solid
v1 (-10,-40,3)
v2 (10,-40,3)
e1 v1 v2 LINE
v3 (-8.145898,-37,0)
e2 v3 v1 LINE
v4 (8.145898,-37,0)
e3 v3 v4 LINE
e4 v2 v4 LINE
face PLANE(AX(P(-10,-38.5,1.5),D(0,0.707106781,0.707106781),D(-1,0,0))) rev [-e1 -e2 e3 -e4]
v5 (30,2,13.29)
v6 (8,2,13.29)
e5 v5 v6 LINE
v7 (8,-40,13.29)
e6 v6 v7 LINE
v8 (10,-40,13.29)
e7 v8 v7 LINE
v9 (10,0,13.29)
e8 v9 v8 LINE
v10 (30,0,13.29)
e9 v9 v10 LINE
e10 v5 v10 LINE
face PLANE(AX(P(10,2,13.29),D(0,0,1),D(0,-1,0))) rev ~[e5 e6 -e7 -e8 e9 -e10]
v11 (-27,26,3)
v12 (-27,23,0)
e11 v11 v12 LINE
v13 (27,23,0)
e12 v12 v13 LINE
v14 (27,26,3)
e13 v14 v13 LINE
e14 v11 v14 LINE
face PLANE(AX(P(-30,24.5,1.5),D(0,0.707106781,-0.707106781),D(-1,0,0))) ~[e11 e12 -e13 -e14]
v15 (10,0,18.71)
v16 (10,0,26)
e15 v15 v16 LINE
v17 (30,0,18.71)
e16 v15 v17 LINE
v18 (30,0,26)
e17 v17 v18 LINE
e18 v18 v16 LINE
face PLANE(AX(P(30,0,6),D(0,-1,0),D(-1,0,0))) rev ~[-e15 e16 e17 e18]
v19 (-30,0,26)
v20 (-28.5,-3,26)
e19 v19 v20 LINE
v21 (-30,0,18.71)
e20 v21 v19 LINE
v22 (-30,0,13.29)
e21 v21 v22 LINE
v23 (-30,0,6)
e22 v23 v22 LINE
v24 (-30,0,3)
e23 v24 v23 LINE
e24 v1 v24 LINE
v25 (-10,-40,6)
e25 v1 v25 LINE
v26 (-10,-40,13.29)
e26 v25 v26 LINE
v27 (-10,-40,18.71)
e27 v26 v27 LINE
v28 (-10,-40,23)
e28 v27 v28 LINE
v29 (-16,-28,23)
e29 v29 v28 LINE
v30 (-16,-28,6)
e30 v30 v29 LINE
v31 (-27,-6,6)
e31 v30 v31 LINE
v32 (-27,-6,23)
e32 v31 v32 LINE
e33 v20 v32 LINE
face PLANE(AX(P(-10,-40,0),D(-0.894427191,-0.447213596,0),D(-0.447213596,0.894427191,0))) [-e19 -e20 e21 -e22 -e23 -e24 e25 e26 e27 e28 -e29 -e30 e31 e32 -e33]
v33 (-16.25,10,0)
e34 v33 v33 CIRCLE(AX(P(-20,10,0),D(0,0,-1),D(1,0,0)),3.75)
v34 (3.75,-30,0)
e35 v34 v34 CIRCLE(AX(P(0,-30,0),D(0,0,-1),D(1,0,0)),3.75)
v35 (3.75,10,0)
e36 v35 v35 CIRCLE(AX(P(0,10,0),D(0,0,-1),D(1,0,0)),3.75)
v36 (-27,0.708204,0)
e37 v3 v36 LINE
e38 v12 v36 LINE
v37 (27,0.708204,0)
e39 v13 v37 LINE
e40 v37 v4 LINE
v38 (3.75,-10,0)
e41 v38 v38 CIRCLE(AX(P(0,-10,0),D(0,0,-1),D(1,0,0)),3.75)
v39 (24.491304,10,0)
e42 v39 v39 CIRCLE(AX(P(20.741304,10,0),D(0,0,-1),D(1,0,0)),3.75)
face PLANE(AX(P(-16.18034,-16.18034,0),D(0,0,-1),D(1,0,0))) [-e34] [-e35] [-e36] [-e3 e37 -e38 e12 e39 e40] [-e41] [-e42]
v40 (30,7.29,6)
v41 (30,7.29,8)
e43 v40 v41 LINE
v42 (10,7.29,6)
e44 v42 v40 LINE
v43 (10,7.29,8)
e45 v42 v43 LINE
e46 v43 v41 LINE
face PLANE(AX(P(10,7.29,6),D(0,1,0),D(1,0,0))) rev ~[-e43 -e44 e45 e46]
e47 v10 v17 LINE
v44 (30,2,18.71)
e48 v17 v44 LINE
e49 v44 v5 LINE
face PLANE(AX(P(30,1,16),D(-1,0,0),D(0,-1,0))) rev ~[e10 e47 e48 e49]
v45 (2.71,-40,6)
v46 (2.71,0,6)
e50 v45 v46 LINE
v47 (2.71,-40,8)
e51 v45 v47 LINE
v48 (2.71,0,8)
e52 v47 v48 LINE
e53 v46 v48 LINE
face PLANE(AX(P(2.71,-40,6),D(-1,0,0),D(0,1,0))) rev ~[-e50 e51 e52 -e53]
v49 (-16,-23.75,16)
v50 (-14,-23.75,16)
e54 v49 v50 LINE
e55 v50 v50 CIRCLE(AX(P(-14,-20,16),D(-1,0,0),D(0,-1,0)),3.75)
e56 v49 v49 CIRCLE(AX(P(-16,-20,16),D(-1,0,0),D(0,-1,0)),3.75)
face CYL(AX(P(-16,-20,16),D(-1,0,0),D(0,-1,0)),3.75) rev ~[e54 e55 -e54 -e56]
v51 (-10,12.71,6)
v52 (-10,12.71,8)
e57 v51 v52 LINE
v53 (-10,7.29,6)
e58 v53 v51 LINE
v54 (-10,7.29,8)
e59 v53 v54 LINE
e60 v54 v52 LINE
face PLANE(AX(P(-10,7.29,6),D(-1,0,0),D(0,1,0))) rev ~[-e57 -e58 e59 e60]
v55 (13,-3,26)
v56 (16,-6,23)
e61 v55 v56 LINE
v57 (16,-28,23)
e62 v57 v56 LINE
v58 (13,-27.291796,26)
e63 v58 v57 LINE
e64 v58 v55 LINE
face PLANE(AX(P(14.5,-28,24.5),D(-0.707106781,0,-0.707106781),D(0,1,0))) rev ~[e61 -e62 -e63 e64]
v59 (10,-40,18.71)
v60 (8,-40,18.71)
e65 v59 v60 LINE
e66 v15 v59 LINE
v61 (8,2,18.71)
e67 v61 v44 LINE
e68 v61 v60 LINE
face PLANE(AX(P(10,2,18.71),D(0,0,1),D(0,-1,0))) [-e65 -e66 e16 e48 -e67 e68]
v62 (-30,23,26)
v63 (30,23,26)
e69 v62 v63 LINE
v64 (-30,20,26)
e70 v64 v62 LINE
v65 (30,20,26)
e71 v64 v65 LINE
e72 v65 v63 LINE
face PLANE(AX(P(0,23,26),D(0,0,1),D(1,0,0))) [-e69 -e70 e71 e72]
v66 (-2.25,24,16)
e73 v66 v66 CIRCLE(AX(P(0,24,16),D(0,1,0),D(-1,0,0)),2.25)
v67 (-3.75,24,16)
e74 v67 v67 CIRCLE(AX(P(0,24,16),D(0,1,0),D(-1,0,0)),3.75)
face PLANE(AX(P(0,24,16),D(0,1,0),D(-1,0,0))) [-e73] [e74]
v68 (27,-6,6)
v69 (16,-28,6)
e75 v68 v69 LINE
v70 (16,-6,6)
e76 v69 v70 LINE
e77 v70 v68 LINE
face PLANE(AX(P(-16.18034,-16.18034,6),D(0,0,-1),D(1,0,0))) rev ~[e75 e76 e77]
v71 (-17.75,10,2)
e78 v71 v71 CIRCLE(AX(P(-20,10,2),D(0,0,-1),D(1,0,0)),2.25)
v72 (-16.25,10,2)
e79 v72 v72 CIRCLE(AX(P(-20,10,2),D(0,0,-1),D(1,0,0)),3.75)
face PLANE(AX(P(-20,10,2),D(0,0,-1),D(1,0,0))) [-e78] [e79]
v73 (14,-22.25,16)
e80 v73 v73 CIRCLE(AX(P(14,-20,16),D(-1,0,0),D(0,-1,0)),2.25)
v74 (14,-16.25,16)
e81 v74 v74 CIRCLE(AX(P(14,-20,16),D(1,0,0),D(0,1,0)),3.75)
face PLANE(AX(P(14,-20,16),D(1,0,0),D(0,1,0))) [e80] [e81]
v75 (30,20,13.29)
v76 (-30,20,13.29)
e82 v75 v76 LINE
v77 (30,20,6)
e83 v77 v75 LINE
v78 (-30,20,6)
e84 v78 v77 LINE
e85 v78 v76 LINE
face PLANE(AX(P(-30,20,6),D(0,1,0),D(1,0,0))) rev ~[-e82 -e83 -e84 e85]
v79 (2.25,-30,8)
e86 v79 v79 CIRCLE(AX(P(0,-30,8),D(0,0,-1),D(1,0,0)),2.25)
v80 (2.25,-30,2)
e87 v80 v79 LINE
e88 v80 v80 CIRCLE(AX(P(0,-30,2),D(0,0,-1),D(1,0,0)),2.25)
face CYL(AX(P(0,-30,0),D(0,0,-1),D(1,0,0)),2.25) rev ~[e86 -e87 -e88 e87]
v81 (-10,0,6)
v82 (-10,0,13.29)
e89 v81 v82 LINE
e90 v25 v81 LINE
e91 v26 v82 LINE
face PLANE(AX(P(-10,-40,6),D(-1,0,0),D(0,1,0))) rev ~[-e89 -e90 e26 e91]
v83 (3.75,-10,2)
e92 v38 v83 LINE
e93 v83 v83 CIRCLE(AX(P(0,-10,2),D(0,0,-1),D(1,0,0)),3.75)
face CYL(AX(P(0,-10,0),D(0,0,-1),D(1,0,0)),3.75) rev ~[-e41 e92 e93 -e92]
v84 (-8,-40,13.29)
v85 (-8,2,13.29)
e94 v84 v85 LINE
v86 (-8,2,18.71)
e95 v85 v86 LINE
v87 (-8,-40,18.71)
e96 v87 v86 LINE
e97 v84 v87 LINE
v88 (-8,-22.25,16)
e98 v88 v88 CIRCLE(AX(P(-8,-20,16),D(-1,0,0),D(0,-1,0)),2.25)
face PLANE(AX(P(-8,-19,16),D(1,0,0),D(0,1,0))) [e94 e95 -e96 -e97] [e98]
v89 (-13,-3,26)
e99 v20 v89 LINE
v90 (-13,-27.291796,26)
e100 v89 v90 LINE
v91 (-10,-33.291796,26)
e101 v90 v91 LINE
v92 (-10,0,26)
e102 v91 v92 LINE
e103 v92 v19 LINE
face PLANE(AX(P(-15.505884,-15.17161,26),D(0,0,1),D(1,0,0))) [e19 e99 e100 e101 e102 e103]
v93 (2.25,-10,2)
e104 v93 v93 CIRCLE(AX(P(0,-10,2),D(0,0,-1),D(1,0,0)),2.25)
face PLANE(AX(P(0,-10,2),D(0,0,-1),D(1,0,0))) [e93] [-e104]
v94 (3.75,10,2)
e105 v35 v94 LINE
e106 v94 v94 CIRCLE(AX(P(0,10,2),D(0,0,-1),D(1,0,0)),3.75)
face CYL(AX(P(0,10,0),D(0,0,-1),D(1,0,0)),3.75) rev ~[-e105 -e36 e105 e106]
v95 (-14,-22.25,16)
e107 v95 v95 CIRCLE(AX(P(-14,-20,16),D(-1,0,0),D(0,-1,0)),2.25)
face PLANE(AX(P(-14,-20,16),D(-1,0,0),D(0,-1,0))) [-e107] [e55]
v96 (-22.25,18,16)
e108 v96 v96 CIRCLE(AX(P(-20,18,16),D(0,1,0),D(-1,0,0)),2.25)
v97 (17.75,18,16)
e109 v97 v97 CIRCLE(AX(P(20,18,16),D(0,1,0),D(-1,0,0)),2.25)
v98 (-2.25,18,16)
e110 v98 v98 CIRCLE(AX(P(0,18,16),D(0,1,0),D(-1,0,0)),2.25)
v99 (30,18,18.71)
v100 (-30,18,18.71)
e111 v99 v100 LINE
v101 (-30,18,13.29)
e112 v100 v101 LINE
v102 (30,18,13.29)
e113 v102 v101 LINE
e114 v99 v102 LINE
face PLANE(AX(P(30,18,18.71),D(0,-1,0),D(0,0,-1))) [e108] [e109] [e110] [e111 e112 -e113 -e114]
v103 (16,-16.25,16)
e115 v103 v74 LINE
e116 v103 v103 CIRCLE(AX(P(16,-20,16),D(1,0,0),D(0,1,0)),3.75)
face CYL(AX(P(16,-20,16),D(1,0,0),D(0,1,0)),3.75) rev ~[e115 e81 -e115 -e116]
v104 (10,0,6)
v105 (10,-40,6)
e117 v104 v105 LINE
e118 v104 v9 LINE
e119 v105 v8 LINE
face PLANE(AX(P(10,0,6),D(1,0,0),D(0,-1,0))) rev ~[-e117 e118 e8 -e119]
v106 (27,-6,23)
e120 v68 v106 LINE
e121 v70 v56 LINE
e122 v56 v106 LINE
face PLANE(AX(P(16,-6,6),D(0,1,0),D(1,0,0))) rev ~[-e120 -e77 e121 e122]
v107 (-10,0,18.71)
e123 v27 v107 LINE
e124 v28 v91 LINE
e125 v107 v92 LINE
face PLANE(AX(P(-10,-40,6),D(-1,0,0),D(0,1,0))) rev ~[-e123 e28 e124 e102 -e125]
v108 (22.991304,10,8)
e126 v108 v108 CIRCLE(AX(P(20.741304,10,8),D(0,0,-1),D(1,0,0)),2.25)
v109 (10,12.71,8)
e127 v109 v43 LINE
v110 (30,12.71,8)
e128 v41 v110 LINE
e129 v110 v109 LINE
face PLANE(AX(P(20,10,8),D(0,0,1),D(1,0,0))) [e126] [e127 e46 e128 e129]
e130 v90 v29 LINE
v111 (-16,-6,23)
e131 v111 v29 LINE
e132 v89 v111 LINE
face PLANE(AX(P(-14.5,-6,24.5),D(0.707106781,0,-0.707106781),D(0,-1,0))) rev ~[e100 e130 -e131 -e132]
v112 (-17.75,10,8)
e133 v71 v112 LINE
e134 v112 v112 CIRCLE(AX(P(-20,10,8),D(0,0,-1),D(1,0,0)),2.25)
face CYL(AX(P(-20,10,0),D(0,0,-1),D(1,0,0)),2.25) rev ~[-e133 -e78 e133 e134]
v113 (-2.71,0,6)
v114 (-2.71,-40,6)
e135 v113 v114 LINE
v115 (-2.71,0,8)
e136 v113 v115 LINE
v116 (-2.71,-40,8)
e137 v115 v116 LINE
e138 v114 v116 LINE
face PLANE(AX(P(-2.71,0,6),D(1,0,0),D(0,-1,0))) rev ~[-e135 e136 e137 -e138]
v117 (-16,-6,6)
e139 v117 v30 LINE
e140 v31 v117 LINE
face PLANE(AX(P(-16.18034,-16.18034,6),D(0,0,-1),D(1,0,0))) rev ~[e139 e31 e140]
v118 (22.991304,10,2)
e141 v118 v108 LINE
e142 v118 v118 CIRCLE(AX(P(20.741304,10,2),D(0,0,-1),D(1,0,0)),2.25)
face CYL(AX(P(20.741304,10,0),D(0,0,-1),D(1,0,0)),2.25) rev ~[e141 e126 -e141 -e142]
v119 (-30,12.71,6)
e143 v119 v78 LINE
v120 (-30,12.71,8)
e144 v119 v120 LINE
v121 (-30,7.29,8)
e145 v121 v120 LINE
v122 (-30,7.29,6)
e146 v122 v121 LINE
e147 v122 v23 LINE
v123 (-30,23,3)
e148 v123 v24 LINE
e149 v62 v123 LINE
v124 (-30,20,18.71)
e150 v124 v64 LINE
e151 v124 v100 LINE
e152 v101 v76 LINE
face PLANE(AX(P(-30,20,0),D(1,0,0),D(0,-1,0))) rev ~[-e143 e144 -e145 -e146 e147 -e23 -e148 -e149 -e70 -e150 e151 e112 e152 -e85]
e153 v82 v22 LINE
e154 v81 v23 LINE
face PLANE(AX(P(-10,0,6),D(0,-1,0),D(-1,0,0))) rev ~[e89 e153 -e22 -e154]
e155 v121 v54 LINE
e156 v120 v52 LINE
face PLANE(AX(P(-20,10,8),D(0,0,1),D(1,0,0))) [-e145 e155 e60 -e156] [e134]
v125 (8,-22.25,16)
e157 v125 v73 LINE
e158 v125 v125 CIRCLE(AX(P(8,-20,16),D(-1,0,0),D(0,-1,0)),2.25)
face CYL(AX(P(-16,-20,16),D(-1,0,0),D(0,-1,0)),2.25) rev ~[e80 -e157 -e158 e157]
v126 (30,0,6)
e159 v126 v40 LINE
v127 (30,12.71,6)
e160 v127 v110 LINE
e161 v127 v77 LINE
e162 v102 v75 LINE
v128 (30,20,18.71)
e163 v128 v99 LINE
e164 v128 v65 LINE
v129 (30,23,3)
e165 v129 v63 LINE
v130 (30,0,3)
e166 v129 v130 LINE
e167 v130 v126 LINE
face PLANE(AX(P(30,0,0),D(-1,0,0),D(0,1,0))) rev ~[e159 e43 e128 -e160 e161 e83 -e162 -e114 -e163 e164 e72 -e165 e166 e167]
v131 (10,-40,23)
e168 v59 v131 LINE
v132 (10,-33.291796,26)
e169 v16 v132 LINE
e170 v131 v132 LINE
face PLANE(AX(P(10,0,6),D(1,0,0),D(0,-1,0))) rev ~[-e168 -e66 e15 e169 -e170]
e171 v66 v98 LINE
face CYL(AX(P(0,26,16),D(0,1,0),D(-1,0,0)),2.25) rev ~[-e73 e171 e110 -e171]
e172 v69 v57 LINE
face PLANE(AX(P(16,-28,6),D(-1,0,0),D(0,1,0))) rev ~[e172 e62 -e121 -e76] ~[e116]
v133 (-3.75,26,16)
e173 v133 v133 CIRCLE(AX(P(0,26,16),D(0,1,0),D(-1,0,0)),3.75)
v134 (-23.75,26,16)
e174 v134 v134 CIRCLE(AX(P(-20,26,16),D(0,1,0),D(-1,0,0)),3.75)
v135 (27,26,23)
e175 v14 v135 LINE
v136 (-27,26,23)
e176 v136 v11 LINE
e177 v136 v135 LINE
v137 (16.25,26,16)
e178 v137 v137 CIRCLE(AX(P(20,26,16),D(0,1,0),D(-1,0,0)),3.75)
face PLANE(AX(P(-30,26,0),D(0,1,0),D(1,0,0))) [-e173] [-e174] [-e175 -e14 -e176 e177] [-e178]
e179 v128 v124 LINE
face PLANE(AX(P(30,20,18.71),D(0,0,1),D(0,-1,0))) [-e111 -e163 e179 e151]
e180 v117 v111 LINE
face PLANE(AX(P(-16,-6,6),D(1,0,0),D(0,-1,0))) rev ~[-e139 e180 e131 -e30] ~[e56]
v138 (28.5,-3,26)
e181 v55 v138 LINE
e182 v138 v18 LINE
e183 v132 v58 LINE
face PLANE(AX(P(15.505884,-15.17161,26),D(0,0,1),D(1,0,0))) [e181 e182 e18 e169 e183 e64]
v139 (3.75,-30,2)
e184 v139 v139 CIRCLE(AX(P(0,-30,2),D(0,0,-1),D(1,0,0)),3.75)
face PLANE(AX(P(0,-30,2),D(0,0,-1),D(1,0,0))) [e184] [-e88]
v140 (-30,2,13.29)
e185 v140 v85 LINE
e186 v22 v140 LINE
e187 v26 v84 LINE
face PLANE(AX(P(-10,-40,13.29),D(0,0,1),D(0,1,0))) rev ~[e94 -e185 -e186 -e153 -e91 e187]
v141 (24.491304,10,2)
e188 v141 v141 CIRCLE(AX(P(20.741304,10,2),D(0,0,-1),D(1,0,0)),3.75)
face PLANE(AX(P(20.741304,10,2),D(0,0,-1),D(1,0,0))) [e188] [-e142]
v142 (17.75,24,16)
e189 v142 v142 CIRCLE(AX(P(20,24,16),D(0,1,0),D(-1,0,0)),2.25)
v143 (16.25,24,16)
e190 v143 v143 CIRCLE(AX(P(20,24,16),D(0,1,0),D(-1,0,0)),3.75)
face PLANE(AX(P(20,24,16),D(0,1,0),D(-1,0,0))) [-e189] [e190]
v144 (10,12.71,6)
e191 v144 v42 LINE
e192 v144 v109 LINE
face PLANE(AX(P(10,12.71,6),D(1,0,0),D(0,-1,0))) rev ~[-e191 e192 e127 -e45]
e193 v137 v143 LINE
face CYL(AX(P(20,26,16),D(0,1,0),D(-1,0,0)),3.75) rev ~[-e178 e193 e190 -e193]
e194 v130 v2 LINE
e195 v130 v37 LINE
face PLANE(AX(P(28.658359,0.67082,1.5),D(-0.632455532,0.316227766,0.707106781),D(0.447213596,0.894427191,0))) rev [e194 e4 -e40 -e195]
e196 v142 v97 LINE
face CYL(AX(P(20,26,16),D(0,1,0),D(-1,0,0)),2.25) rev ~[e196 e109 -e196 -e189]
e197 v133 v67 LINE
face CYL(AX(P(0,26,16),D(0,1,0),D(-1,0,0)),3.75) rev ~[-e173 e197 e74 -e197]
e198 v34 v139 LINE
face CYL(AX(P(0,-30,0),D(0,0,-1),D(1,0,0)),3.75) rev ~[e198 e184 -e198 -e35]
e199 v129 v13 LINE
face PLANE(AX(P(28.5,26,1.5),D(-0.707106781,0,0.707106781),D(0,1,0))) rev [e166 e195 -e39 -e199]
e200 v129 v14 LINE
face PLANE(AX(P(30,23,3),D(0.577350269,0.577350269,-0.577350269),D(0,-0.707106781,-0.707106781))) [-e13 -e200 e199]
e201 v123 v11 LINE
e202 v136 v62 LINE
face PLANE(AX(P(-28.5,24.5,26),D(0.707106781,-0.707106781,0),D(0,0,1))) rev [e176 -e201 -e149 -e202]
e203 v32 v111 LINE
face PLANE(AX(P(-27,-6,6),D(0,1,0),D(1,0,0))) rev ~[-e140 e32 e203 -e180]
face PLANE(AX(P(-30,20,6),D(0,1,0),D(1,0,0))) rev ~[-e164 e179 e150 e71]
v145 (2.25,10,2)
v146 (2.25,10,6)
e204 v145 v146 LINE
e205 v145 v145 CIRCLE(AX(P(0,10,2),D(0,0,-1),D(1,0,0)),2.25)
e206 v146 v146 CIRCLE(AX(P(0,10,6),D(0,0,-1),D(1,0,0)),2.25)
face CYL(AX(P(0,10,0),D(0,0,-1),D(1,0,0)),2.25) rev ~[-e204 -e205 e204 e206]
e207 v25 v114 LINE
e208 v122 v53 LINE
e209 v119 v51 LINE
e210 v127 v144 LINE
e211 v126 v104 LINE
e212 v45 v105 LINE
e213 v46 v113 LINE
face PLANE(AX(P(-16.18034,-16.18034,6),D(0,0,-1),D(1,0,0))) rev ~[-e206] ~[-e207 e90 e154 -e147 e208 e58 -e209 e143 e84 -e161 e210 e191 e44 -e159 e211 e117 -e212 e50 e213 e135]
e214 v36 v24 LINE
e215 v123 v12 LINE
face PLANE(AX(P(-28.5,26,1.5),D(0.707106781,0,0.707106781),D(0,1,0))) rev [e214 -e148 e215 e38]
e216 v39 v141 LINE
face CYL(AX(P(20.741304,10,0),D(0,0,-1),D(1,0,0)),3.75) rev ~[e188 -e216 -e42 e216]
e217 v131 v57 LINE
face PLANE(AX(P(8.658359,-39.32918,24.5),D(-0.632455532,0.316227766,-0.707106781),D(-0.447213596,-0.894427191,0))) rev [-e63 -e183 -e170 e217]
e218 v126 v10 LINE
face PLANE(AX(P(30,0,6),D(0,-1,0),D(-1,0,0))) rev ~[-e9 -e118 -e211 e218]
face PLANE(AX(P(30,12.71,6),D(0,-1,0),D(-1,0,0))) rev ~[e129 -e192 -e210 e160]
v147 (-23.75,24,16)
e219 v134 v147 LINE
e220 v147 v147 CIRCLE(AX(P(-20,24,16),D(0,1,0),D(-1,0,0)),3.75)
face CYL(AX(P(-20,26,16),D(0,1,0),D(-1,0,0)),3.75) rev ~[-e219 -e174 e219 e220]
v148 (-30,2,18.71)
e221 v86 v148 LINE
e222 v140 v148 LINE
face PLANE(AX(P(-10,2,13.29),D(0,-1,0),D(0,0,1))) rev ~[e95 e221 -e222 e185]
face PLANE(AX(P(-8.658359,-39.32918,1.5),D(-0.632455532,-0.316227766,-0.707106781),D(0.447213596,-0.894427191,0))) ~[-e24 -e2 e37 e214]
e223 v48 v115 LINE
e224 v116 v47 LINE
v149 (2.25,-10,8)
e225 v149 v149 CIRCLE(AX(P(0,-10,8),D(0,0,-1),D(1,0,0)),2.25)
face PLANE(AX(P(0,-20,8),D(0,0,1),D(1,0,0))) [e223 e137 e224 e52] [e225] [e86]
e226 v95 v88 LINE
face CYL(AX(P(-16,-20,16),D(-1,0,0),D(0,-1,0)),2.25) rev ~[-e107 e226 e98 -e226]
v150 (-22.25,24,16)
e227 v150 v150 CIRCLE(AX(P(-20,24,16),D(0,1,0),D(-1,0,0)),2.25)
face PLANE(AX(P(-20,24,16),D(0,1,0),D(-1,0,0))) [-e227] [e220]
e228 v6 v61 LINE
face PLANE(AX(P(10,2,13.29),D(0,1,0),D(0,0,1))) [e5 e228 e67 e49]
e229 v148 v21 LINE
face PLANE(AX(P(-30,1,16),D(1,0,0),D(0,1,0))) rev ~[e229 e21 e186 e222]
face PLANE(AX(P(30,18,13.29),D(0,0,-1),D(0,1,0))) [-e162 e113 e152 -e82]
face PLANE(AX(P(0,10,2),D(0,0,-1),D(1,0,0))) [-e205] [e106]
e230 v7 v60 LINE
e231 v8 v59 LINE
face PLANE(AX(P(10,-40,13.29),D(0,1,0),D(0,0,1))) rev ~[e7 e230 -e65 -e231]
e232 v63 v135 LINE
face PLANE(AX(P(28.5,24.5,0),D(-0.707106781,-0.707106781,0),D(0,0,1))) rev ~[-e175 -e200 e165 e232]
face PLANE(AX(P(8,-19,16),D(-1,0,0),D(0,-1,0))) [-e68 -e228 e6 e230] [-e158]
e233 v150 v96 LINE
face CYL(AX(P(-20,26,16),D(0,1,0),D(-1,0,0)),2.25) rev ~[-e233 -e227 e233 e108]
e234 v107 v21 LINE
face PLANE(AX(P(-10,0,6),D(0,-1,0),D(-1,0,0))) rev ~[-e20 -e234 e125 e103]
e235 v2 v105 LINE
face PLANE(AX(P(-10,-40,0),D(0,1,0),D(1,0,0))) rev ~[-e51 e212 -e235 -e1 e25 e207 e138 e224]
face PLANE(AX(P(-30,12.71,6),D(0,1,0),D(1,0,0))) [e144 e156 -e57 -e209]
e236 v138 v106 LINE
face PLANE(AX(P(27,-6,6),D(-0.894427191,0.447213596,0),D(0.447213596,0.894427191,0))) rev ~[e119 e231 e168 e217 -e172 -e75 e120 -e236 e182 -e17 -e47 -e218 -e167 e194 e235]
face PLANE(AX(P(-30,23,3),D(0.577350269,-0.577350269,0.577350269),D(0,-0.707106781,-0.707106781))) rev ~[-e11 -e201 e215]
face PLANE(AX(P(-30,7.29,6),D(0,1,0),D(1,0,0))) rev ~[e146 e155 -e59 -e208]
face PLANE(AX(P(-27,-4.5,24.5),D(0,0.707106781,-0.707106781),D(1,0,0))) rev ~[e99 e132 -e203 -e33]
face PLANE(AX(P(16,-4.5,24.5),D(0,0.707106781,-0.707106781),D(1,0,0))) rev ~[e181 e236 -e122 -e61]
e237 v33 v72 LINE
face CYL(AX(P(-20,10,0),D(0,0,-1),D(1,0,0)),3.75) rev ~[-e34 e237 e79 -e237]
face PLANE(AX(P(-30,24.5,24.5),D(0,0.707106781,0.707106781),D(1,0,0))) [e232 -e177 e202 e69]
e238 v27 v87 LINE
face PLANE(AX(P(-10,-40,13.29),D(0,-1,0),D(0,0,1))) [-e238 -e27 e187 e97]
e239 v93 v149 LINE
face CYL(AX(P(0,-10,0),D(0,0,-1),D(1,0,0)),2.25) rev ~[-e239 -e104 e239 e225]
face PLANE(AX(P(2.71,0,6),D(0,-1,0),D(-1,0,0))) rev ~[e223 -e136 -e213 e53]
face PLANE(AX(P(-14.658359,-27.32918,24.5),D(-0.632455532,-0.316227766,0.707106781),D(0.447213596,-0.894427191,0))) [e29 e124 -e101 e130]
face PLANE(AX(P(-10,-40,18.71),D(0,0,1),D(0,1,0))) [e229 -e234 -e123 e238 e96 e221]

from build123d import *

# Parameters (mm, degrees)
F1_DEPTH  = 6
F2_W      = 20
F2_H      = 5.42
F3_DEPTH  = 2
F4_R      = 2.25
F5_DEPTH  = 8.001
F6_R      = 3.75
F7_DEPTH  = 2
F8_W      = 60
F8_H      = 6
F9_DEPTH  = 6
F10_W     = 60
F10_H     = 6
F11_DEPTH = 20
F13_DEPTH = 60
F15_DEPTH = 20
F16_W     = 42
F16_H     = 5.42
F17_DEPTH = 2
F19_DEPTH = 20
F20_W     = 42
F20_H     = 5.42
F21_DEPTH = 2
F22_R     = 2.25
F23_DEPTH = 46.001
F24_R     = 2.25
F25_DEPTH = 8
F26_R     = 3.75
F27_DEPTH = 2
F28_R     = 3.75
F29_DEPTH = 2
F30_R     = 3.75
F31_DEPTH = 2
F32_SIZE  = 3


with BuildPart() as f1:
    # F0 (on Top) → F1 (new body)
    with BuildSketch(Plane.XY):
        Polygon((-30, 0), (-10, 0), (-10, -40), (0, -40), (10, -40), (10, 0), (30, 0), (30, 20), (0, 20), (-30, 20), align=None)
    extrude(amount=F1_DEPTH)

    # F2 (on face) → F3 (join)
    with BuildSketch(Plane.XY.offset(6)):
        Polygon((2.71, 0), (0, 0), (-2.71, 0), (-2.71, -40), (2.71, -40), align=None)
        Polygon((10, 12.71), (10, 10), (10, 7.29), (30, 7.29), (30, 12.71), align=None)
        with Locations((-20, 10)):
            Rectangle(F2_W, F2_H)
    extrude(amount=F3_DEPTH)

    # F4 (on face) → F5 (cut, through all)
    with BuildSketch(Plane(origin=(0, 0, 0), x_dir=(1, 0, 0), z_dir=(0, 0, -1))):
        with Locations((-20, -10)):
            Circle(F4_R)
        with Locations((0, 10)):
            Circle(F4_R)
        with Locations((0, 30)):
            Circle(F4_R)
        with Locations((20.741304, -10)):
            Circle(F4_R)
        with Locations((0, -10)):
            Circle(F4_R)
    extrude(amount=-F5_DEPTH, mode=Mode.SUBTRACT)

    # F6 (on face) → F7 (cut)
    with BuildSketch(Plane(origin=(0, 0, 0), x_dir=(1, 0, 0), z_dir=(0, 0, -1))):
        with Locations((0, 30)):
            Circle(F6_R)
        with Locations((0, 10)):
            Circle(F6_R)
        with Locations((20.741304, -10)):
            Circle(F6_R)
        with Locations((-20, -10)):
            Circle(F6_R)
        with Locations((0, -10)):
            Circle(F6_R)
    extrude(amount=-F7_DEPTH, mode=Mode.SUBTRACT)

    # F8 (on face) → F9 (join)
    with BuildSketch(Plane(origin=(0, 0, 0), x_dir=(1, 0, 0), z_dir=(0, 0, -1))):
        Polygon((-10, 0), (-10, 40), (-30, 0), align=None)
        Polygon((30, 0), (10, 40), (10, 0), align=None)
        with Locations((0, -23)):
            Rectangle(F8_W, F8_H)
    extrude(amount=-F9_DEPTH)

    # F10 (on face) → F11 (join)
    with BuildSketch(Plane.XY.offset(6)):
        Polygon((30, 0), (10, 0), (10, -40), (16, -28), (16, -6), (27, -6), align=None)
        Polygon((-10, -40), (-10, 0), (-30, 0), (-27, -6), (-16, -6), (-16, -28), align=None)
        with Locations((0, 23)):
            Rectangle(F10_W, F10_H)
    extrude(amount=F11_DEPTH)

    # F12 (on face) → F13 (join)
    with BuildSketch(Plane.YZ.offset(30)):
        Polygon((20, 13.29), (20, 16), (20, 18.71), (18, 18.71), (18, 13.29), align=None)
    extrude(amount=-F13_DEPTH)

    # F14 (on face) → F15 (join)
    with BuildSketch(Plane.YZ.offset(-10)):
        Polygon((0, 18.71), (0, 16), (0, 13.29), (2, 13.29), (2, 18.71), align=None)
    extrude(amount=-F15_DEPTH)

    # F16 (on face) → F17 (join)
    with BuildSketch(Plane.YZ.offset(-10)):
        with Locations((-19, 16)):
            Rectangle(F16_W, F16_H)
    extrude(amount=F17_DEPTH)

    # F18 (on face) → F19 (join)
    with BuildSketch(Plane(origin=(10, 0, 0), x_dir=(0, -1, 0), z_dir=(-1, 0, 0))):
        Polygon((0, 13.29), (0, 16), (0, 18.71), (-2, 18.71), (-2, 13.29), align=None)
    extrude(amount=-F19_DEPTH)

    # F20 (on face) → F21 (join)
    with BuildSketch(Plane(origin=(10, 0, 0), x_dir=(0, -1, 0), z_dir=(-1, 0, 0))):
        with Locations((19, 16)):
            Rectangle(F20_W, F20_H)
    extrude(amount=F21_DEPTH)

    # F22 (on face) → F23 (cut, through all)
    with BuildSketch(Plane(origin=(-16, 0, 0), x_dir=(0, -1, 0), z_dir=(-1, 0, 0))):
        with Locations((20, 16)):
            Circle(F22_R)
    extrude(amount=-F23_DEPTH, mode=Mode.SUBTRACT)

    # F24 (on face) → F25 (cut, through all)
    with BuildSketch(Plane(origin=(0, 26, 0), x_dir=(-1, 0, 0), z_dir=(0, 1, 0))):
        with Locations((-20, 16)):
            Circle(F24_R)
        with Locations((0, 16)):
            Circle(F24_R)
        with Locations((20, 16)):
            Circle(F24_R)
    extrude(amount=-F25_DEPTH, mode=Mode.SUBTRACT)

    # F26 (on face) → F27 (cut)
    with BuildSketch(Plane.YZ.offset(16)):
        with Locations((-20, 16)):
            Circle(F26_R)
    extrude(amount=-F27_DEPTH, mode=Mode.SUBTRACT)

    # F28 (on face) → F29 (cut)
    with BuildSketch(Plane(origin=(-16, 0, 0), x_dir=(0, -1, 0), z_dir=(-1, 0, 0))):
        with Locations((20, 16)):
            Circle(F28_R)
    extrude(amount=-F29_DEPTH, mode=Mode.SUBTRACT)

    # F30 (on face) → F31 (cut)
    with BuildSketch(Plane(origin=(0, 26, 0), x_dir=(-1, 0, 0), z_dir=(0, 1, 0))):
        with Locations((-20, 16)):
            Circle(F30_R)
        with Locations((0, 16)):
            Circle(F30_R)
        with Locations((20, 16)):
            Circle(F30_R)
    extrude(amount=-F31_DEPTH, mode=Mode.SUBTRACT)

    # F32
    f32_edges = [f1.edges().sort_by_distance(p)[0] for p in [
        (0, 26, 0),
        (30, 26, 13),
        (-30, 26, 13),
        (-30, 13, 0),
        (30, 13, 0),
        (20, -20, 0),
        (-20, -20, 0),
        (0, -40, 0),
        (0, 26, 26),
        (-21.5, -6, 26),
        (-16, -17, 26),
        (16, -17, 26),
        (21.5, -6, 26),
        (-13, -34, 26),
        (13, -34, 26),
    ]]
    chamfer(f32_edges, length=F32_SIZE)


solid = f1.part
